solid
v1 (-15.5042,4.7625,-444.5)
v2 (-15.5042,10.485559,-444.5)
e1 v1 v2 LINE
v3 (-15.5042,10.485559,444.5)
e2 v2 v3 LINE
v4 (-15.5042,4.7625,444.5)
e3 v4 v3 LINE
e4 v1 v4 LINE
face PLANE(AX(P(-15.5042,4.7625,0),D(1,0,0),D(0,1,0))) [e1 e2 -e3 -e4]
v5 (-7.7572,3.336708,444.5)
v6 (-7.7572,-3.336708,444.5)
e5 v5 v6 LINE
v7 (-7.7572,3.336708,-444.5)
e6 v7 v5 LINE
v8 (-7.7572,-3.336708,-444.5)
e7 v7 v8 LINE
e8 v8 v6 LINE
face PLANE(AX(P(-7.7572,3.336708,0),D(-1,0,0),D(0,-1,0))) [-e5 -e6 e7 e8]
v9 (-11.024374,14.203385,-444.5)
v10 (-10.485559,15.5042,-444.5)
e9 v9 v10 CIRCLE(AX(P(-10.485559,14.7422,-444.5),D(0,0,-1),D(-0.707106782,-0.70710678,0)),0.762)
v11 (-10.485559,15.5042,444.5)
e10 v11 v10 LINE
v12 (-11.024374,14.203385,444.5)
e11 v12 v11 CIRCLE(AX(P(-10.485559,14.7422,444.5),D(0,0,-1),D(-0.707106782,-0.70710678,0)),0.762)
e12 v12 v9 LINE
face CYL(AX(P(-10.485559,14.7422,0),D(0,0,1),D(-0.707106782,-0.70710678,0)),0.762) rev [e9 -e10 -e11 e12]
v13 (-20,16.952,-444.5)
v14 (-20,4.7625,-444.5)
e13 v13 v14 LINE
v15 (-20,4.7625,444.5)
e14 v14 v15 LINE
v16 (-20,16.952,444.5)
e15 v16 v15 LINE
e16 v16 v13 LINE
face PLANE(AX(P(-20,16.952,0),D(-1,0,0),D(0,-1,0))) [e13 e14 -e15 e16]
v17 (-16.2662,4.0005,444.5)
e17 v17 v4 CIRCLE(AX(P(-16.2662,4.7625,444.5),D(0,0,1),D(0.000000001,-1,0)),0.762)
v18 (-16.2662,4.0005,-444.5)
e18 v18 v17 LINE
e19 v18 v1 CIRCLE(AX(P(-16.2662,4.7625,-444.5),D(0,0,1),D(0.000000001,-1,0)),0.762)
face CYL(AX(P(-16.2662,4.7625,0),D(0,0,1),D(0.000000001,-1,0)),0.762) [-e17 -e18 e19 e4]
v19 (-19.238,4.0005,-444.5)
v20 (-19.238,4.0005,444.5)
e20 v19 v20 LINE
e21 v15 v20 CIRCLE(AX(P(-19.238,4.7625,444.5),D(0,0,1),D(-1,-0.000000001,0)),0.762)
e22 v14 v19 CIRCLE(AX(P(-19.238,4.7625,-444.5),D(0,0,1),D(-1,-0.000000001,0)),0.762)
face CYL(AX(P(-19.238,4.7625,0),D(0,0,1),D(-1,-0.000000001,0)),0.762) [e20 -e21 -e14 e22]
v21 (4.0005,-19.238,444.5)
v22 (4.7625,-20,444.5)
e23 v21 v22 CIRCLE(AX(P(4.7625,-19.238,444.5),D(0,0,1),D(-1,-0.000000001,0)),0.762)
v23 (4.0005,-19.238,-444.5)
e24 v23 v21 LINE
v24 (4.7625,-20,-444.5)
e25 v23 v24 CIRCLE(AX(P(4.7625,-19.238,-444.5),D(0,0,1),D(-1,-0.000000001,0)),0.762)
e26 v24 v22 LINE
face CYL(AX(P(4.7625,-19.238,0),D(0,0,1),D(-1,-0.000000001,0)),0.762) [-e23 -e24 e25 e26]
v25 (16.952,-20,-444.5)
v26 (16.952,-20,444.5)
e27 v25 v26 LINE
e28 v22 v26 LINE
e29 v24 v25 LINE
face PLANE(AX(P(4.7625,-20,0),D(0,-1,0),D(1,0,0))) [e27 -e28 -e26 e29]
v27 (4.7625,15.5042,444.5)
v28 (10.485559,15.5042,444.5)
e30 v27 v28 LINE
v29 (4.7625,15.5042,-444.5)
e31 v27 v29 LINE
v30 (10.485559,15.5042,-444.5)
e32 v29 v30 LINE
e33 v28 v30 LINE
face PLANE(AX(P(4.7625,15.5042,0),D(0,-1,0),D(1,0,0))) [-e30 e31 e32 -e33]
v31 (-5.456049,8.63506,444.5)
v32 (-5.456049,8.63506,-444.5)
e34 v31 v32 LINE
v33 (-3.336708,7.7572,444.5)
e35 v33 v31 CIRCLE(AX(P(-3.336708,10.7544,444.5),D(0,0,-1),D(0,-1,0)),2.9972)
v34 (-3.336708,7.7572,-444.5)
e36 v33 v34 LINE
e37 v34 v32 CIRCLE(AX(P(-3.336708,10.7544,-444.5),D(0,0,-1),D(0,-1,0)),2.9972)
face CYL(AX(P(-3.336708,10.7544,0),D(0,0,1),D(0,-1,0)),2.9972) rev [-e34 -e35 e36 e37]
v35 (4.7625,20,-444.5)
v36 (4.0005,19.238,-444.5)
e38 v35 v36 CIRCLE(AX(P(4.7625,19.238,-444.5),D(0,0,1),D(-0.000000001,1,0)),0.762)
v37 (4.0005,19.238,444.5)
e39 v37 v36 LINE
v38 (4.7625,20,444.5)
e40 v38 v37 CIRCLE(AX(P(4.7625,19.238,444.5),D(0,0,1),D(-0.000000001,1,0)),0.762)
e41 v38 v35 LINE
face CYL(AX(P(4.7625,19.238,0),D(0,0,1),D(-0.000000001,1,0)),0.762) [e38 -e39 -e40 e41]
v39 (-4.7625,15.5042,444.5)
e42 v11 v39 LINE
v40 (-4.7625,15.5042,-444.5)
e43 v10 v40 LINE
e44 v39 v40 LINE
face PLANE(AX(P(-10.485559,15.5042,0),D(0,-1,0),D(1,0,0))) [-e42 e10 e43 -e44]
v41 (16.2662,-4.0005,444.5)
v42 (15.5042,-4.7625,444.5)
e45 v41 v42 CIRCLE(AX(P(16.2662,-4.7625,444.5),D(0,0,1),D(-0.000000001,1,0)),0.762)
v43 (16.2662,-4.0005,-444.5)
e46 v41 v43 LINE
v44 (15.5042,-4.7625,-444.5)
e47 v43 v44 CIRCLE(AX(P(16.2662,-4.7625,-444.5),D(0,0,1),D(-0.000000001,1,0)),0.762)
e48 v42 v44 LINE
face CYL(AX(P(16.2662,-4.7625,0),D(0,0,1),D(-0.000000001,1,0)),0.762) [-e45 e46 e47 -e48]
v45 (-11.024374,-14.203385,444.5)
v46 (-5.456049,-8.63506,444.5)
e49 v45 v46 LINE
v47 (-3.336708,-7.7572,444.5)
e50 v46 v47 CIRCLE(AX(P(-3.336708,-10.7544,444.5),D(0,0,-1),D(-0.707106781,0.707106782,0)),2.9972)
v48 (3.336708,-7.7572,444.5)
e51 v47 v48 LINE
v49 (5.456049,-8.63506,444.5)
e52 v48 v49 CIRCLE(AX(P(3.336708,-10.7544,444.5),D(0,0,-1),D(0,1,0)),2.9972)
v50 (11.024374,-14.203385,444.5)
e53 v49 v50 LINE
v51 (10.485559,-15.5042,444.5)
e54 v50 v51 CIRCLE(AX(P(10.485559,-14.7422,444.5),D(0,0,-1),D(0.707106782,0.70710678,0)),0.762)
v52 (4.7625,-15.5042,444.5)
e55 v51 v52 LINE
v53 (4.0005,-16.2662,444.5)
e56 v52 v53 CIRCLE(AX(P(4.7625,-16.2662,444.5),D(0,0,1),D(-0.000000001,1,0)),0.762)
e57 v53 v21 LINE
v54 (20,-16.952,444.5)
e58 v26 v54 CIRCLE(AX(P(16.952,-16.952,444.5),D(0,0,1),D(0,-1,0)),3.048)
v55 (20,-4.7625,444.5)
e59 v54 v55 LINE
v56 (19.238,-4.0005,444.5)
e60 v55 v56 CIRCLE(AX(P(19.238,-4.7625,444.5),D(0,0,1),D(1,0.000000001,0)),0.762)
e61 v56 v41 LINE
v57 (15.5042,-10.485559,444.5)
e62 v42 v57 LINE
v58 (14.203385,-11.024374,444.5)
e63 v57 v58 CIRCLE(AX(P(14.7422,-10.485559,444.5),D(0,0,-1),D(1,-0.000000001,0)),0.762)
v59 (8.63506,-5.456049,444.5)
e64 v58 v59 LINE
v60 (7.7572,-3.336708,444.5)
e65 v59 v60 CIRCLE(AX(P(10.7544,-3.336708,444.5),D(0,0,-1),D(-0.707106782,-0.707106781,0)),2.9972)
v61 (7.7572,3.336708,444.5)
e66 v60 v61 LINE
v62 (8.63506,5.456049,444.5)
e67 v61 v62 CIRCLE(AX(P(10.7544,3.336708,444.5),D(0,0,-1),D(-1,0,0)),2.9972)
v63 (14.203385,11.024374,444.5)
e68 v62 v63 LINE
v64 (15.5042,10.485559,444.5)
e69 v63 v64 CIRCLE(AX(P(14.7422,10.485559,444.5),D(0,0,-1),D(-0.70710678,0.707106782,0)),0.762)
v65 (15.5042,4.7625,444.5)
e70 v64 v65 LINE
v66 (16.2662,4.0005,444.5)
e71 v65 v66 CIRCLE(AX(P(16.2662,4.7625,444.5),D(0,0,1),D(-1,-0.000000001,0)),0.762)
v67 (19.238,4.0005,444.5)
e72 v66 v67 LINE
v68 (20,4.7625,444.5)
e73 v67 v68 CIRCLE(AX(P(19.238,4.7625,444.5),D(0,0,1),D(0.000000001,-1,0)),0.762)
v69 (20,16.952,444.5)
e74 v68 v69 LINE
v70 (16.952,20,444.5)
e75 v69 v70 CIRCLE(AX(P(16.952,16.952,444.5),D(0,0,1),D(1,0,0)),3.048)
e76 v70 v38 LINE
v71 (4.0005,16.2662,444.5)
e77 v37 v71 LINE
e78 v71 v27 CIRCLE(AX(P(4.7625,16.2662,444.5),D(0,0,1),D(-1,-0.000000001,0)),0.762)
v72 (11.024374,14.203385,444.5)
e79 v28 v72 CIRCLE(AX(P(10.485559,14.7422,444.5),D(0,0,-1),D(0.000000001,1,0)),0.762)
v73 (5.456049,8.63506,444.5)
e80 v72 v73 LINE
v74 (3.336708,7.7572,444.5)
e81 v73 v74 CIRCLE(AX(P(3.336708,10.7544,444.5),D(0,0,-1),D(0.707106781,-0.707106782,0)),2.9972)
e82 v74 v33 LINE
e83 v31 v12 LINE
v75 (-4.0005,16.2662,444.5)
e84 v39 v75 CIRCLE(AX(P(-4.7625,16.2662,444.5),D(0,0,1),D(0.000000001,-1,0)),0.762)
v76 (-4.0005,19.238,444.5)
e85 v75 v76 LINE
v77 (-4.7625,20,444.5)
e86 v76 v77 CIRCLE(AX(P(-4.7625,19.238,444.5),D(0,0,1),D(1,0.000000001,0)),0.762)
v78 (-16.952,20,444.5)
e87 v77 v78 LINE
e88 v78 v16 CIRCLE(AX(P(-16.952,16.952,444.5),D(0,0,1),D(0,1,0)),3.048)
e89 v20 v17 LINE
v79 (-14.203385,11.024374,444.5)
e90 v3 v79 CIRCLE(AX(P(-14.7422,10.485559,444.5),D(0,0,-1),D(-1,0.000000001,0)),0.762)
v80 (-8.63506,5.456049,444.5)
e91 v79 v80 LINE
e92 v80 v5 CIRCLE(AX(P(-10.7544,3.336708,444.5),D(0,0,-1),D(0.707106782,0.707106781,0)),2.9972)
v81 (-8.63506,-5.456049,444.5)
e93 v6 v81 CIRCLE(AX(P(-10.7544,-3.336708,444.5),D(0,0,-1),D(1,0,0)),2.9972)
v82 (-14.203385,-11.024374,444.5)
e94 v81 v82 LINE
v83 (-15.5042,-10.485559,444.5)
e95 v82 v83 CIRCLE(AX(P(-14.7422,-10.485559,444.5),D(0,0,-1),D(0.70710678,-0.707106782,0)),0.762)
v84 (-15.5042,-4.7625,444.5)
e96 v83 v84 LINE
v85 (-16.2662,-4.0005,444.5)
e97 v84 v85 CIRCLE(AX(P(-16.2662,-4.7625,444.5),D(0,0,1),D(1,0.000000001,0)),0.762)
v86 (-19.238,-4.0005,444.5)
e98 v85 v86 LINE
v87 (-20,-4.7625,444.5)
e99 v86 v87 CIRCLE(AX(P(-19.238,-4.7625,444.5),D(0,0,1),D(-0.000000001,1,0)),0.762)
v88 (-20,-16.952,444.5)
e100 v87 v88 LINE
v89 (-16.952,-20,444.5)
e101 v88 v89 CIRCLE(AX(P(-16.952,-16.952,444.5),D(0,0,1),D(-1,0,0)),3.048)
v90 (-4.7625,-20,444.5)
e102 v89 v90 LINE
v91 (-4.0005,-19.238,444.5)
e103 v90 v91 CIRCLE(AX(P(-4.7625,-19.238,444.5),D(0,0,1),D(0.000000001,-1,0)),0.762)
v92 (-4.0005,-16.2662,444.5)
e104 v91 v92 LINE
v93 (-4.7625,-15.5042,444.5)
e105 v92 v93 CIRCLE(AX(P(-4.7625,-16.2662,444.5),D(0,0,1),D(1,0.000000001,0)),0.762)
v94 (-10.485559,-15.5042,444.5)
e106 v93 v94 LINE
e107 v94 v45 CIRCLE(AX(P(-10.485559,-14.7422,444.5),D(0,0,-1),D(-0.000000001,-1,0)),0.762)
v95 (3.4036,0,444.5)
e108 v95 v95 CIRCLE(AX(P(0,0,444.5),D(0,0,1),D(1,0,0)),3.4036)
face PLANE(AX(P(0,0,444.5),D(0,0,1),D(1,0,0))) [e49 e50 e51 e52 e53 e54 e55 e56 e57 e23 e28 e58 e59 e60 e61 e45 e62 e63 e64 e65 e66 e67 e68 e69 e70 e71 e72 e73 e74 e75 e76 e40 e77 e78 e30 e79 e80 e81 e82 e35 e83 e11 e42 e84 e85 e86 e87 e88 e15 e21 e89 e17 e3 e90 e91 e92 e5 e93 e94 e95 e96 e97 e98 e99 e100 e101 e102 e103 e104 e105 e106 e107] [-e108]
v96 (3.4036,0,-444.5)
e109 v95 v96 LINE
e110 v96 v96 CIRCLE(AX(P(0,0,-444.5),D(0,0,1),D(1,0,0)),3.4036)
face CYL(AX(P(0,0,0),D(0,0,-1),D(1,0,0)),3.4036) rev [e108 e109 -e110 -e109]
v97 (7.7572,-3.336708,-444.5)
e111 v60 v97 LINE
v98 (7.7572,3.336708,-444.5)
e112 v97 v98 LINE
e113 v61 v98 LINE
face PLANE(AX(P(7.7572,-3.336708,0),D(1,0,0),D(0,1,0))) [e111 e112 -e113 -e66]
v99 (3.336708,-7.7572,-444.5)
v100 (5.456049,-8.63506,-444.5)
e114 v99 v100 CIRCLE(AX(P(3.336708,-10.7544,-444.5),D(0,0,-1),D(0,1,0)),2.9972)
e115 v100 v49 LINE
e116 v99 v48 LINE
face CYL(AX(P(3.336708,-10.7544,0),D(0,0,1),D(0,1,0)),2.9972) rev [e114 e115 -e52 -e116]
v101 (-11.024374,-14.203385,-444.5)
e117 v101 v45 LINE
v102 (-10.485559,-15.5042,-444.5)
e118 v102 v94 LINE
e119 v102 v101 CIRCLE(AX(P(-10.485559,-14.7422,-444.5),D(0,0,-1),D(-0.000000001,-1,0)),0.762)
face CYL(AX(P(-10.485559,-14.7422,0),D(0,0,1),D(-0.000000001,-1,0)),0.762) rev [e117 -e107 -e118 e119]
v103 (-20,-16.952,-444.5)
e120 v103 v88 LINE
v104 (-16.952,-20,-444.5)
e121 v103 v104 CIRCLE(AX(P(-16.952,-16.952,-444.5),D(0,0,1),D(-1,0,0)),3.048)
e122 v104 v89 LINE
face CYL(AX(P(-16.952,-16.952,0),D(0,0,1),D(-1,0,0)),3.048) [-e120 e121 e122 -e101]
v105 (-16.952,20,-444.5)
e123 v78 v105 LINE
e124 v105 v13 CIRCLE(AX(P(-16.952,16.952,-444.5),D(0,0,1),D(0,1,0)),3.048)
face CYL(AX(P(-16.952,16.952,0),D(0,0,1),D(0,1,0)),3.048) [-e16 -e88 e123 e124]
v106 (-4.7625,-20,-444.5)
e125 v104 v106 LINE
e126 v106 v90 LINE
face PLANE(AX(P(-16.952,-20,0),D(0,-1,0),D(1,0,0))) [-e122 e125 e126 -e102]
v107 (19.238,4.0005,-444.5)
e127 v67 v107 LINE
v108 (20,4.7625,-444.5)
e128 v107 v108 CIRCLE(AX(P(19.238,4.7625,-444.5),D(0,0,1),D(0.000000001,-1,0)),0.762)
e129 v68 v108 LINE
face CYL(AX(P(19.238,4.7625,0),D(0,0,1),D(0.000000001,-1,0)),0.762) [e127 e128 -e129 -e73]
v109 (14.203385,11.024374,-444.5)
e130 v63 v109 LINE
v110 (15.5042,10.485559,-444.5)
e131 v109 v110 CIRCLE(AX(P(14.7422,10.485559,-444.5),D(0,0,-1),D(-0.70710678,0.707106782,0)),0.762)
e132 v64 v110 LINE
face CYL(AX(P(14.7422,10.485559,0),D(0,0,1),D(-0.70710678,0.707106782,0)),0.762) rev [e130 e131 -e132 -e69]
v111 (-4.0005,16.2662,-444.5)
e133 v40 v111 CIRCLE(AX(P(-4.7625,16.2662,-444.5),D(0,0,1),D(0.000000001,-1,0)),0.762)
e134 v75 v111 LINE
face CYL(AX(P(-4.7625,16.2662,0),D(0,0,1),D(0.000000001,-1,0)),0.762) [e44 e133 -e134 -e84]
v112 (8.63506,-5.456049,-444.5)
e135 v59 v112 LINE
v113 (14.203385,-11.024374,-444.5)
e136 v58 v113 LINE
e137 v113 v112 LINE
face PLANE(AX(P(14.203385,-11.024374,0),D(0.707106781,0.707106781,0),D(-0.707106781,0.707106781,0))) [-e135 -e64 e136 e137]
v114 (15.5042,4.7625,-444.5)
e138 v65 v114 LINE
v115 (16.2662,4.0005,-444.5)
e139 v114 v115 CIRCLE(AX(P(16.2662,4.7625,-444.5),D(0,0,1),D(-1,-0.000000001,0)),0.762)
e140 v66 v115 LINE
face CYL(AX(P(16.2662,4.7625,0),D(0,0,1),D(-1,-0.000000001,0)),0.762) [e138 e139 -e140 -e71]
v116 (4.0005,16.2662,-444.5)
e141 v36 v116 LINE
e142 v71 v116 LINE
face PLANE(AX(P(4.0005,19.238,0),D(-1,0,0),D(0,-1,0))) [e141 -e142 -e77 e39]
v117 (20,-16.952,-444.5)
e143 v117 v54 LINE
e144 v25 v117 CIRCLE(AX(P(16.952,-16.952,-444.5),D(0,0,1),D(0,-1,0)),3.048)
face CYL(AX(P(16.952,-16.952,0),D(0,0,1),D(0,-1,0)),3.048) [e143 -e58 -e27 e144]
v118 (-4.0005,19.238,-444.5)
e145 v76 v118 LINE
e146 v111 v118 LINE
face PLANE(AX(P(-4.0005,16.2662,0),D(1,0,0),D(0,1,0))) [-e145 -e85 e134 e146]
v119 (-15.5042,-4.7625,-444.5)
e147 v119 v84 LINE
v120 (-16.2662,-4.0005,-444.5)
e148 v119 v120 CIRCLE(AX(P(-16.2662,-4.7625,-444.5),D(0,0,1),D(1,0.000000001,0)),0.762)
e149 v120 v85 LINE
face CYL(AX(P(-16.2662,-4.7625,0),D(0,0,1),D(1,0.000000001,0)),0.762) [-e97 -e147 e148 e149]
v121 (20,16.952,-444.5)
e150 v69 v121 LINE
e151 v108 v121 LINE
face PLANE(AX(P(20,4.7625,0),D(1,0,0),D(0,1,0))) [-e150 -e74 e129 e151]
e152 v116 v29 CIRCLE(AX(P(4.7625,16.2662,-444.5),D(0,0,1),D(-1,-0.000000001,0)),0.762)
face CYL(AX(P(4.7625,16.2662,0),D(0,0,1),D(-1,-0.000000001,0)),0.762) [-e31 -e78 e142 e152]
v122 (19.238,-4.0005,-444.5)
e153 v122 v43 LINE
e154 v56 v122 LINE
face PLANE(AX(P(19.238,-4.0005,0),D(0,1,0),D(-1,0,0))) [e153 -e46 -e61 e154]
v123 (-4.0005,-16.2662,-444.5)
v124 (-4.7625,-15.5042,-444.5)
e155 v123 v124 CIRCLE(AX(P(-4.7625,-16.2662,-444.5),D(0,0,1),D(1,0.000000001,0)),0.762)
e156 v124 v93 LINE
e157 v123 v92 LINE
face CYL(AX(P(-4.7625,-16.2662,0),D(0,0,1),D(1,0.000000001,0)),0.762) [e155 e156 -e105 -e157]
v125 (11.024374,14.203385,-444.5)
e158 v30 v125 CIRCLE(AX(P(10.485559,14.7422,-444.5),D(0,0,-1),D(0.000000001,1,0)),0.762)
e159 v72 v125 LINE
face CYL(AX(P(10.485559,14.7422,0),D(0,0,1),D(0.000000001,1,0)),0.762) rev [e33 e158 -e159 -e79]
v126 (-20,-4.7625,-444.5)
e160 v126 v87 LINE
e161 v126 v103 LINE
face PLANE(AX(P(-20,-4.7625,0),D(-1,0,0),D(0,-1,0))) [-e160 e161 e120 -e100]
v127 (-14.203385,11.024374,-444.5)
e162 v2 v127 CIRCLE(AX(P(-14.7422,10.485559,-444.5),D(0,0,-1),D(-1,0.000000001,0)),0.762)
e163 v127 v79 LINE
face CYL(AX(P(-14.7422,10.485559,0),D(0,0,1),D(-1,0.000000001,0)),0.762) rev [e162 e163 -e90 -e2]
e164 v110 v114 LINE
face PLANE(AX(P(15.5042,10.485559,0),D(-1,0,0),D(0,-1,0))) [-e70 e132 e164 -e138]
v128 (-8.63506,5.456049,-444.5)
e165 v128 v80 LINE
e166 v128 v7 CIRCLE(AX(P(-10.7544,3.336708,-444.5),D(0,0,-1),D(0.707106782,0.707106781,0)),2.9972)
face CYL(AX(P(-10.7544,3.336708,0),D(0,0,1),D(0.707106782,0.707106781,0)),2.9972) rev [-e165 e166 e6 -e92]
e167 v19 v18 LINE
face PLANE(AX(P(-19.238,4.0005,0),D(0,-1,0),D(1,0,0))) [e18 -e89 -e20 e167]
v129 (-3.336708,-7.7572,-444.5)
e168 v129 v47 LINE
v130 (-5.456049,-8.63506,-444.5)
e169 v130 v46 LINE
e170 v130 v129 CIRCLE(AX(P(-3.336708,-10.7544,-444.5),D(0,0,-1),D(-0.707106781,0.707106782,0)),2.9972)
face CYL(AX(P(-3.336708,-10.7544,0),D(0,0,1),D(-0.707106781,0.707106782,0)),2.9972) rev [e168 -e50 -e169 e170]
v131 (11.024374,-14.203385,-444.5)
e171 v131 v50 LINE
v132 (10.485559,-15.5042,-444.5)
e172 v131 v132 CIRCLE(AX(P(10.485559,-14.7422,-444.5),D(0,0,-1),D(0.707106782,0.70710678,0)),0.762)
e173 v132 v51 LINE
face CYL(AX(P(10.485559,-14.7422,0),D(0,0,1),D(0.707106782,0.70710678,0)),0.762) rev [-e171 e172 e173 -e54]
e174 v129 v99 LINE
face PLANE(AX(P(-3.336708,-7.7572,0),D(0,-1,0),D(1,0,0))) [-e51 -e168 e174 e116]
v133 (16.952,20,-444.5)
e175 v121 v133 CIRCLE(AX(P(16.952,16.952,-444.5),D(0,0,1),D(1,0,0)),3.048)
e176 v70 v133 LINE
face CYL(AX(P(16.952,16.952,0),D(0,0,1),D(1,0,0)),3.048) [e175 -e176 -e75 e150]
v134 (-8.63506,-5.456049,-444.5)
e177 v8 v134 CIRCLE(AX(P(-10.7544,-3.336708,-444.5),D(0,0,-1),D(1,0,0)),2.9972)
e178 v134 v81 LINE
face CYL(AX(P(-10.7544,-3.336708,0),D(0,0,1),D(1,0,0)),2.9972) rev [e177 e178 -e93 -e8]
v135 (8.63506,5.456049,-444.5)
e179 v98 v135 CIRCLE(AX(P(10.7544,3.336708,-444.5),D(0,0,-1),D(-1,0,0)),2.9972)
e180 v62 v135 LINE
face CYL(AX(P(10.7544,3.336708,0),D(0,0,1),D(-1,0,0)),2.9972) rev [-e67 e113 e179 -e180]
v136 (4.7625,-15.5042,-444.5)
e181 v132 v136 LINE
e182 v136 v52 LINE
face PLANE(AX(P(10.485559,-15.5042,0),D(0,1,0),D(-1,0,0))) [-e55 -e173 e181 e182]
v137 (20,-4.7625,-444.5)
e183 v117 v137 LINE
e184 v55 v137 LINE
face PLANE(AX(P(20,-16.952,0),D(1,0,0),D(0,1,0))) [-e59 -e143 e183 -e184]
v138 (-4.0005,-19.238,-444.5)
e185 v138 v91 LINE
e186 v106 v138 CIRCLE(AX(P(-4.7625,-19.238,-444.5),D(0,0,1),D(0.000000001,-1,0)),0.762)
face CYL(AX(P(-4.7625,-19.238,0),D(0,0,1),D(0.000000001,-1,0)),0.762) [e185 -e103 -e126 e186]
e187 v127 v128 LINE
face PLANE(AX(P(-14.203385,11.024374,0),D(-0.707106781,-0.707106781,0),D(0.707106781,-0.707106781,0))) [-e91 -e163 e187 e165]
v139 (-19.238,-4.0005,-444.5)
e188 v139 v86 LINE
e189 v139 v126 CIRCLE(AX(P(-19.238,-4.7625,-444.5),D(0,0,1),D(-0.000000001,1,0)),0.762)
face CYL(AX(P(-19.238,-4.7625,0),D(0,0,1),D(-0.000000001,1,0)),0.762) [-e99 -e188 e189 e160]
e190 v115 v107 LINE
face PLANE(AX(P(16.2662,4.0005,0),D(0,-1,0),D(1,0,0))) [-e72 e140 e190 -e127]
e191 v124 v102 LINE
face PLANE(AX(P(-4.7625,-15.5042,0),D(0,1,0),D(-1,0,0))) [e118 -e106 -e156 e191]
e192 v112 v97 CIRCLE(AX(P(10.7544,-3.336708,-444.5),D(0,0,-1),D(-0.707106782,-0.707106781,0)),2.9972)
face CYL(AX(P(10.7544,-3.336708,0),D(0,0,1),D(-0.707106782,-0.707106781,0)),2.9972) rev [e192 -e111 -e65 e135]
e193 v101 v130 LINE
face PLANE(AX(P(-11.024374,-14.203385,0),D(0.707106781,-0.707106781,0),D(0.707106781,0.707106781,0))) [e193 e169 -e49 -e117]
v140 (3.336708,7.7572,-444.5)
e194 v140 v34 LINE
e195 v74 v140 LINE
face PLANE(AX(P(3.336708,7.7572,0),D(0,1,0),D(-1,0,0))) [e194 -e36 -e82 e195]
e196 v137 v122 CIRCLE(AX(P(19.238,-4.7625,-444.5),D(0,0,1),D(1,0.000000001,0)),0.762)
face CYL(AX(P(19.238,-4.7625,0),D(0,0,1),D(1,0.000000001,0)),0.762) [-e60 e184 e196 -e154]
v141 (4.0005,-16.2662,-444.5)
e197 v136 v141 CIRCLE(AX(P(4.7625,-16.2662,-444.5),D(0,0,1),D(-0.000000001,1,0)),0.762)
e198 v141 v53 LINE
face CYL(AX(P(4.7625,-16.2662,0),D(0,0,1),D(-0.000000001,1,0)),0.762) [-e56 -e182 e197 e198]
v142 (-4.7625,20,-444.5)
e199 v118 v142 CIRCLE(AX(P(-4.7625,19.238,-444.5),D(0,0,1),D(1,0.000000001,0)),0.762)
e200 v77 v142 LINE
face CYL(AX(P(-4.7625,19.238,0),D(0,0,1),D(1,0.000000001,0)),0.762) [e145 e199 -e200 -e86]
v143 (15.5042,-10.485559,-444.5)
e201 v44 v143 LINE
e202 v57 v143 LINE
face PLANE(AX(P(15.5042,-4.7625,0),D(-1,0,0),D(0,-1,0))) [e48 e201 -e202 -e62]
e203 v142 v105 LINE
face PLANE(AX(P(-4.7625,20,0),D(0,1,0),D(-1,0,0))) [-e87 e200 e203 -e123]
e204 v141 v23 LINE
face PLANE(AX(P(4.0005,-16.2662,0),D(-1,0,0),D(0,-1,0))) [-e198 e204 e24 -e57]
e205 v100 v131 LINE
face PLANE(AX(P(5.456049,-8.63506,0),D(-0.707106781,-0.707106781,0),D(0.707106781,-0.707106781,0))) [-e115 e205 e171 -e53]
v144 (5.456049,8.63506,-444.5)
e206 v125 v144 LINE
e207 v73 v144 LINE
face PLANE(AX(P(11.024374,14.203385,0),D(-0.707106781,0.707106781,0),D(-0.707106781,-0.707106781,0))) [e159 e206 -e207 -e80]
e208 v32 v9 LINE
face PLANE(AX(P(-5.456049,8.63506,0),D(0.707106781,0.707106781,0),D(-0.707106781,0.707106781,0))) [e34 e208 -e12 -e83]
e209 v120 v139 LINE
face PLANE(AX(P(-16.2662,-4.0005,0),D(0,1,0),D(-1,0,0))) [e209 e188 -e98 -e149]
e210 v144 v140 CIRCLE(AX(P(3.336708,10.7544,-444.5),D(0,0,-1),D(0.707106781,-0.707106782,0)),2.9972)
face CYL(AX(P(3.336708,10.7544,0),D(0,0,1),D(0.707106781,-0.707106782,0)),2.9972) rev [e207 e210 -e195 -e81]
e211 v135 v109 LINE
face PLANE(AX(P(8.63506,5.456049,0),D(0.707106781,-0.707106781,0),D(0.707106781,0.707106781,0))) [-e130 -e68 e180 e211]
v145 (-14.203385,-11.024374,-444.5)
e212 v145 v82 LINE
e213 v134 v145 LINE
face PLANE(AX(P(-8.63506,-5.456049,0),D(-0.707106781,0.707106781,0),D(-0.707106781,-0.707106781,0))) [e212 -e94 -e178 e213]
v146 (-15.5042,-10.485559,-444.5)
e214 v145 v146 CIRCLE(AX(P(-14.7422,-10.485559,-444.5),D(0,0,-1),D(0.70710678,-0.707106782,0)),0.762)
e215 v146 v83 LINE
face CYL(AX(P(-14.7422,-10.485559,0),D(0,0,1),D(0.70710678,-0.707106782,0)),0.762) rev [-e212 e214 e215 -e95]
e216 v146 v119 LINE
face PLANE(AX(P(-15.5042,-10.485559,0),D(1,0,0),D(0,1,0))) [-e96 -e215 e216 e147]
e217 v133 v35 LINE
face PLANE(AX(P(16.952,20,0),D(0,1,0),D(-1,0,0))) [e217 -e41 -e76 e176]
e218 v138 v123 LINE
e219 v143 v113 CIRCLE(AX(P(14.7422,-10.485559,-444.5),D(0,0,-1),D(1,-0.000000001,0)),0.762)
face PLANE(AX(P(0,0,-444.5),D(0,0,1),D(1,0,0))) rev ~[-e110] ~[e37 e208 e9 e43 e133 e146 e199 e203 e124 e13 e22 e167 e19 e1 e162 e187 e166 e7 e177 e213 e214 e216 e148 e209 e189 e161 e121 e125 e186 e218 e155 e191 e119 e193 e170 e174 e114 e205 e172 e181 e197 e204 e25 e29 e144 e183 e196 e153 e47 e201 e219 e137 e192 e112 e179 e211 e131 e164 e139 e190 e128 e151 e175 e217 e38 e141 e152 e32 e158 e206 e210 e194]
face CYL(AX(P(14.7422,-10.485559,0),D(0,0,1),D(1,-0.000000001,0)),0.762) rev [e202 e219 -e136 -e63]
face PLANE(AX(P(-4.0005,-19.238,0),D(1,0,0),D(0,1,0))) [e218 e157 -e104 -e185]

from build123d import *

# Parameters (mm, degrees)
SKETCH1_R      = 3.4036
EXTRUDE1_DEPTH = 444.5


with BuildPart() as part:
    # Sketch1 → Extrude1 (new, symmetric)
    with BuildSketch(Plane.XY):
        with BuildLine():
            Line((-20, 16.952), (-20, 4.7625))
            ThreePointArc((-20, 4.7625), (-19.776815367, 4.223684633), (-19.238, 4.0005))
            Line((-19.238, 4.0005), (-16.2662, 4.0005))
            ThreePointArc((-16.2662, 4.0005), (-15.727384633, 4.223684633), (-15.5042, 4.7625))
            Line((-15.5042, 4.7625), (-15.5042, 10.485558599))
            ThreePointArc((-15.5042, 10.485558599), (-15.033804775, 11.189554802), (-14.203384633, 11.024373966))
            Line((-14.203384633, 11.024373966), (-8.635059555, 5.456048889))
            ThreePointArc((-8.635059555, 5.456048889), (-7.985348265, 4.483687227), (-7.7572, 3.336708444))
            Line((-7.7572, 3.336708444), (-7.7572, -3.336708444))
            ThreePointArc((-7.7572, -3.336708444), (-7.985348265, -4.483687227), (-8.635059555, -5.456048889))
            Line((-8.635059555, -5.456048889), (-14.203384633, -11.024373966))
            ThreePointArc((-14.203384633, -11.024373966), (-15.033804775, -11.189554802), (-15.5042, -10.485558599))
            Line((-15.5042, -10.485558599), (-15.5042, -4.7625))
            ThreePointArc((-15.5042, -4.7625), (-15.727384633, -4.223684633), (-16.2662, -4.0005))
            Line((-16.2662, -4.0005), (-19.238, -4.0005))
            ThreePointArc((-19.238, -4.0005), (-19.776815367, -4.223684633), (-20, -4.7625))
            Line((-20, -4.7625), (-20, -16.952))
            ThreePointArc((-20, -16.952), (-19.107261469, -19.107261469), (-16.952, -20))
            Line((-16.952, -20), (-4.7625, -20))
            ThreePointArc((-4.7625, -20), (-4.223684633, -19.776815367), (-4.0005, -19.238))
            Line((-4.0005, -19.238), (-4.0005, -16.2662))
            ThreePointArc((-4.0005, -16.2662), (-4.223684633, -15.727384633), (-4.7625, -15.5042))
            Line((-4.7625, -15.5042), (-10.485558599, -15.5042))
            ThreePointArc((-10.485558599, -15.5042), (-11.189554802, -15.033804775), (-11.024373966, -14.203384633))
            Line((-11.024373966, -14.203384633), (-5.456048889, -8.635059555))
            ThreePointArc((-5.456048889, -8.635059555), (-4.483687227, -7.985348265), (-3.336708444, -7.7572))
            Line((-3.336708444, -7.7572), (3.336708444, -7.7572))
            ThreePointArc((3.336708444, -7.7572), (4.483687227, -7.985348265), (5.456048889, -8.635059555))
            Line((5.456048889, -8.635059555), (11.024373966, -14.203384633))
            ThreePointArc((11.024373966, -14.203384633), (11.189554802, -15.033804775), (10.485558599, -15.5042))
            Line((10.485558599, -15.5042), (4.7625, -15.5042))
            ThreePointArc((4.7625, -15.5042), (4.223684633, -15.727384633), (4.0005, -16.2662))
            Line((4.0005, -16.2662), (4.0005, -19.238))
            ThreePointArc((4.0005, -19.238), (4.223684633, -19.776815367), (4.7625, -20))
            Line((4.7625, -20), (16.952, -20))
            ThreePointArc((16.952, -20), (19.107261469, -19.107261469), (20, -16.952))
            Line((20, -16.952), (20, -4.7625))
            ThreePointArc((20, -4.7625), (19.776815367, -4.223684633), (19.238, -4.0005))
            Line((19.238, -4.0005), (16.2662, -4.0005))
            ThreePointArc((16.2662, -4.0005), (15.727384633, -4.223684633), (15.5042, -4.7625))
            Line((15.5042, -4.7625), (15.5042, -10.485558599))
            ThreePointArc((15.5042, -10.485558599), (15.033804775, -11.189554802), (14.203384633, -11.024373966))
            Line((14.203384633, -11.024373966), (8.635059555, -5.456048889))
            ThreePointArc((8.635059555, -5.456048889), (7.985348265, -4.483687227), (7.7572, -3.336708444))
            Line((7.7572, -3.336708444), (7.7572, 3.336708444))
            ThreePointArc((7.7572, 3.336708444), (7.985348265, 4.483687227), (8.635059555, 5.456048889))
            Line((8.635059555, 5.456048889), (14.203384633, 11.024373966))
            ThreePointArc((14.203384633, 11.024373966), (15.033804775, 11.189554802), (15.5042, 10.485558599))
            Line((15.5042, 10.485558599), (15.5042, 4.7625))
            ThreePointArc((15.5042, 4.7625), (15.727384633, 4.223684633), (16.2662, 4.0005))
            Line((16.2662, 4.0005), (19.238, 4.0005))
            ThreePointArc((19.238, 4.0005), (19.776815367, 4.223684633), (20, 4.7625))
            Line((20, 4.7625), (20, 16.952))
            ThreePointArc((20, 16.952), (19.107261469, 19.107261469), (16.952, 20))
            Line((16.952, 20), (4.7625, 20))
            ThreePointArc((4.7625, 20), (4.223684633, 19.776815367), (4.0005, 19.238))
            Line((4.0005, 19.238), (4.0005, 16.2662))
            ThreePointArc((4.0005, 16.2662), (4.223684633, 15.727384633), (4.7625, 15.5042))
            Line((4.7625, 15.5042), (10.485558599, 15.5042))
            ThreePointArc((10.485558599, 15.5042), (11.189554802, 15.033804775), (11.024373966, 14.203384633))
            Line((11.024373966, 14.203384633), (5.456048889, 8.635059555))
            ThreePointArc((5.456048889, 8.635059555), (4.483687227, 7.985348265), (3.336708444, 7.7572))
            Line((3.336708444, 7.7572), (-3.336708444, 7.7572))
            ThreePointArc((-3.336708444, 7.7572), (-4.483687227, 7.985348265), (-5.456048889, 8.635059555))
            Line((-5.456048889, 8.635059555), (-11.024373966, 14.203384633))
            ThreePointArc((-11.024373966, 14.203384633), (-11.189554802, 15.033804775), (-10.485558599, 15.5042))
            Line((-10.485558599, 15.5042), (-4.7625, 15.5042))
            ThreePointArc((-4.7625, 15.5042), (-4.223684633, 15.727384633), (-4.0005, 16.2662))
            Line((-4.0005, 16.2662), (-4.0005, 19.238))
            ThreePointArc((-4.0005, 19.238), (-4.223684633, 19.776815367), (-4.7625, 20))
            Line((-4.7625, 20), (-16.952, 20))
            ThreePointArc((-16.952, 20), (-19.107261469, 19.107261469), (-20, 16.952))
        make_face()
        Circle(SKETCH1_R, mode=Mode.SUBTRACT)
    extrude(amount=EXTRUDE1_DEPTH, both=True)


solid = part.part
